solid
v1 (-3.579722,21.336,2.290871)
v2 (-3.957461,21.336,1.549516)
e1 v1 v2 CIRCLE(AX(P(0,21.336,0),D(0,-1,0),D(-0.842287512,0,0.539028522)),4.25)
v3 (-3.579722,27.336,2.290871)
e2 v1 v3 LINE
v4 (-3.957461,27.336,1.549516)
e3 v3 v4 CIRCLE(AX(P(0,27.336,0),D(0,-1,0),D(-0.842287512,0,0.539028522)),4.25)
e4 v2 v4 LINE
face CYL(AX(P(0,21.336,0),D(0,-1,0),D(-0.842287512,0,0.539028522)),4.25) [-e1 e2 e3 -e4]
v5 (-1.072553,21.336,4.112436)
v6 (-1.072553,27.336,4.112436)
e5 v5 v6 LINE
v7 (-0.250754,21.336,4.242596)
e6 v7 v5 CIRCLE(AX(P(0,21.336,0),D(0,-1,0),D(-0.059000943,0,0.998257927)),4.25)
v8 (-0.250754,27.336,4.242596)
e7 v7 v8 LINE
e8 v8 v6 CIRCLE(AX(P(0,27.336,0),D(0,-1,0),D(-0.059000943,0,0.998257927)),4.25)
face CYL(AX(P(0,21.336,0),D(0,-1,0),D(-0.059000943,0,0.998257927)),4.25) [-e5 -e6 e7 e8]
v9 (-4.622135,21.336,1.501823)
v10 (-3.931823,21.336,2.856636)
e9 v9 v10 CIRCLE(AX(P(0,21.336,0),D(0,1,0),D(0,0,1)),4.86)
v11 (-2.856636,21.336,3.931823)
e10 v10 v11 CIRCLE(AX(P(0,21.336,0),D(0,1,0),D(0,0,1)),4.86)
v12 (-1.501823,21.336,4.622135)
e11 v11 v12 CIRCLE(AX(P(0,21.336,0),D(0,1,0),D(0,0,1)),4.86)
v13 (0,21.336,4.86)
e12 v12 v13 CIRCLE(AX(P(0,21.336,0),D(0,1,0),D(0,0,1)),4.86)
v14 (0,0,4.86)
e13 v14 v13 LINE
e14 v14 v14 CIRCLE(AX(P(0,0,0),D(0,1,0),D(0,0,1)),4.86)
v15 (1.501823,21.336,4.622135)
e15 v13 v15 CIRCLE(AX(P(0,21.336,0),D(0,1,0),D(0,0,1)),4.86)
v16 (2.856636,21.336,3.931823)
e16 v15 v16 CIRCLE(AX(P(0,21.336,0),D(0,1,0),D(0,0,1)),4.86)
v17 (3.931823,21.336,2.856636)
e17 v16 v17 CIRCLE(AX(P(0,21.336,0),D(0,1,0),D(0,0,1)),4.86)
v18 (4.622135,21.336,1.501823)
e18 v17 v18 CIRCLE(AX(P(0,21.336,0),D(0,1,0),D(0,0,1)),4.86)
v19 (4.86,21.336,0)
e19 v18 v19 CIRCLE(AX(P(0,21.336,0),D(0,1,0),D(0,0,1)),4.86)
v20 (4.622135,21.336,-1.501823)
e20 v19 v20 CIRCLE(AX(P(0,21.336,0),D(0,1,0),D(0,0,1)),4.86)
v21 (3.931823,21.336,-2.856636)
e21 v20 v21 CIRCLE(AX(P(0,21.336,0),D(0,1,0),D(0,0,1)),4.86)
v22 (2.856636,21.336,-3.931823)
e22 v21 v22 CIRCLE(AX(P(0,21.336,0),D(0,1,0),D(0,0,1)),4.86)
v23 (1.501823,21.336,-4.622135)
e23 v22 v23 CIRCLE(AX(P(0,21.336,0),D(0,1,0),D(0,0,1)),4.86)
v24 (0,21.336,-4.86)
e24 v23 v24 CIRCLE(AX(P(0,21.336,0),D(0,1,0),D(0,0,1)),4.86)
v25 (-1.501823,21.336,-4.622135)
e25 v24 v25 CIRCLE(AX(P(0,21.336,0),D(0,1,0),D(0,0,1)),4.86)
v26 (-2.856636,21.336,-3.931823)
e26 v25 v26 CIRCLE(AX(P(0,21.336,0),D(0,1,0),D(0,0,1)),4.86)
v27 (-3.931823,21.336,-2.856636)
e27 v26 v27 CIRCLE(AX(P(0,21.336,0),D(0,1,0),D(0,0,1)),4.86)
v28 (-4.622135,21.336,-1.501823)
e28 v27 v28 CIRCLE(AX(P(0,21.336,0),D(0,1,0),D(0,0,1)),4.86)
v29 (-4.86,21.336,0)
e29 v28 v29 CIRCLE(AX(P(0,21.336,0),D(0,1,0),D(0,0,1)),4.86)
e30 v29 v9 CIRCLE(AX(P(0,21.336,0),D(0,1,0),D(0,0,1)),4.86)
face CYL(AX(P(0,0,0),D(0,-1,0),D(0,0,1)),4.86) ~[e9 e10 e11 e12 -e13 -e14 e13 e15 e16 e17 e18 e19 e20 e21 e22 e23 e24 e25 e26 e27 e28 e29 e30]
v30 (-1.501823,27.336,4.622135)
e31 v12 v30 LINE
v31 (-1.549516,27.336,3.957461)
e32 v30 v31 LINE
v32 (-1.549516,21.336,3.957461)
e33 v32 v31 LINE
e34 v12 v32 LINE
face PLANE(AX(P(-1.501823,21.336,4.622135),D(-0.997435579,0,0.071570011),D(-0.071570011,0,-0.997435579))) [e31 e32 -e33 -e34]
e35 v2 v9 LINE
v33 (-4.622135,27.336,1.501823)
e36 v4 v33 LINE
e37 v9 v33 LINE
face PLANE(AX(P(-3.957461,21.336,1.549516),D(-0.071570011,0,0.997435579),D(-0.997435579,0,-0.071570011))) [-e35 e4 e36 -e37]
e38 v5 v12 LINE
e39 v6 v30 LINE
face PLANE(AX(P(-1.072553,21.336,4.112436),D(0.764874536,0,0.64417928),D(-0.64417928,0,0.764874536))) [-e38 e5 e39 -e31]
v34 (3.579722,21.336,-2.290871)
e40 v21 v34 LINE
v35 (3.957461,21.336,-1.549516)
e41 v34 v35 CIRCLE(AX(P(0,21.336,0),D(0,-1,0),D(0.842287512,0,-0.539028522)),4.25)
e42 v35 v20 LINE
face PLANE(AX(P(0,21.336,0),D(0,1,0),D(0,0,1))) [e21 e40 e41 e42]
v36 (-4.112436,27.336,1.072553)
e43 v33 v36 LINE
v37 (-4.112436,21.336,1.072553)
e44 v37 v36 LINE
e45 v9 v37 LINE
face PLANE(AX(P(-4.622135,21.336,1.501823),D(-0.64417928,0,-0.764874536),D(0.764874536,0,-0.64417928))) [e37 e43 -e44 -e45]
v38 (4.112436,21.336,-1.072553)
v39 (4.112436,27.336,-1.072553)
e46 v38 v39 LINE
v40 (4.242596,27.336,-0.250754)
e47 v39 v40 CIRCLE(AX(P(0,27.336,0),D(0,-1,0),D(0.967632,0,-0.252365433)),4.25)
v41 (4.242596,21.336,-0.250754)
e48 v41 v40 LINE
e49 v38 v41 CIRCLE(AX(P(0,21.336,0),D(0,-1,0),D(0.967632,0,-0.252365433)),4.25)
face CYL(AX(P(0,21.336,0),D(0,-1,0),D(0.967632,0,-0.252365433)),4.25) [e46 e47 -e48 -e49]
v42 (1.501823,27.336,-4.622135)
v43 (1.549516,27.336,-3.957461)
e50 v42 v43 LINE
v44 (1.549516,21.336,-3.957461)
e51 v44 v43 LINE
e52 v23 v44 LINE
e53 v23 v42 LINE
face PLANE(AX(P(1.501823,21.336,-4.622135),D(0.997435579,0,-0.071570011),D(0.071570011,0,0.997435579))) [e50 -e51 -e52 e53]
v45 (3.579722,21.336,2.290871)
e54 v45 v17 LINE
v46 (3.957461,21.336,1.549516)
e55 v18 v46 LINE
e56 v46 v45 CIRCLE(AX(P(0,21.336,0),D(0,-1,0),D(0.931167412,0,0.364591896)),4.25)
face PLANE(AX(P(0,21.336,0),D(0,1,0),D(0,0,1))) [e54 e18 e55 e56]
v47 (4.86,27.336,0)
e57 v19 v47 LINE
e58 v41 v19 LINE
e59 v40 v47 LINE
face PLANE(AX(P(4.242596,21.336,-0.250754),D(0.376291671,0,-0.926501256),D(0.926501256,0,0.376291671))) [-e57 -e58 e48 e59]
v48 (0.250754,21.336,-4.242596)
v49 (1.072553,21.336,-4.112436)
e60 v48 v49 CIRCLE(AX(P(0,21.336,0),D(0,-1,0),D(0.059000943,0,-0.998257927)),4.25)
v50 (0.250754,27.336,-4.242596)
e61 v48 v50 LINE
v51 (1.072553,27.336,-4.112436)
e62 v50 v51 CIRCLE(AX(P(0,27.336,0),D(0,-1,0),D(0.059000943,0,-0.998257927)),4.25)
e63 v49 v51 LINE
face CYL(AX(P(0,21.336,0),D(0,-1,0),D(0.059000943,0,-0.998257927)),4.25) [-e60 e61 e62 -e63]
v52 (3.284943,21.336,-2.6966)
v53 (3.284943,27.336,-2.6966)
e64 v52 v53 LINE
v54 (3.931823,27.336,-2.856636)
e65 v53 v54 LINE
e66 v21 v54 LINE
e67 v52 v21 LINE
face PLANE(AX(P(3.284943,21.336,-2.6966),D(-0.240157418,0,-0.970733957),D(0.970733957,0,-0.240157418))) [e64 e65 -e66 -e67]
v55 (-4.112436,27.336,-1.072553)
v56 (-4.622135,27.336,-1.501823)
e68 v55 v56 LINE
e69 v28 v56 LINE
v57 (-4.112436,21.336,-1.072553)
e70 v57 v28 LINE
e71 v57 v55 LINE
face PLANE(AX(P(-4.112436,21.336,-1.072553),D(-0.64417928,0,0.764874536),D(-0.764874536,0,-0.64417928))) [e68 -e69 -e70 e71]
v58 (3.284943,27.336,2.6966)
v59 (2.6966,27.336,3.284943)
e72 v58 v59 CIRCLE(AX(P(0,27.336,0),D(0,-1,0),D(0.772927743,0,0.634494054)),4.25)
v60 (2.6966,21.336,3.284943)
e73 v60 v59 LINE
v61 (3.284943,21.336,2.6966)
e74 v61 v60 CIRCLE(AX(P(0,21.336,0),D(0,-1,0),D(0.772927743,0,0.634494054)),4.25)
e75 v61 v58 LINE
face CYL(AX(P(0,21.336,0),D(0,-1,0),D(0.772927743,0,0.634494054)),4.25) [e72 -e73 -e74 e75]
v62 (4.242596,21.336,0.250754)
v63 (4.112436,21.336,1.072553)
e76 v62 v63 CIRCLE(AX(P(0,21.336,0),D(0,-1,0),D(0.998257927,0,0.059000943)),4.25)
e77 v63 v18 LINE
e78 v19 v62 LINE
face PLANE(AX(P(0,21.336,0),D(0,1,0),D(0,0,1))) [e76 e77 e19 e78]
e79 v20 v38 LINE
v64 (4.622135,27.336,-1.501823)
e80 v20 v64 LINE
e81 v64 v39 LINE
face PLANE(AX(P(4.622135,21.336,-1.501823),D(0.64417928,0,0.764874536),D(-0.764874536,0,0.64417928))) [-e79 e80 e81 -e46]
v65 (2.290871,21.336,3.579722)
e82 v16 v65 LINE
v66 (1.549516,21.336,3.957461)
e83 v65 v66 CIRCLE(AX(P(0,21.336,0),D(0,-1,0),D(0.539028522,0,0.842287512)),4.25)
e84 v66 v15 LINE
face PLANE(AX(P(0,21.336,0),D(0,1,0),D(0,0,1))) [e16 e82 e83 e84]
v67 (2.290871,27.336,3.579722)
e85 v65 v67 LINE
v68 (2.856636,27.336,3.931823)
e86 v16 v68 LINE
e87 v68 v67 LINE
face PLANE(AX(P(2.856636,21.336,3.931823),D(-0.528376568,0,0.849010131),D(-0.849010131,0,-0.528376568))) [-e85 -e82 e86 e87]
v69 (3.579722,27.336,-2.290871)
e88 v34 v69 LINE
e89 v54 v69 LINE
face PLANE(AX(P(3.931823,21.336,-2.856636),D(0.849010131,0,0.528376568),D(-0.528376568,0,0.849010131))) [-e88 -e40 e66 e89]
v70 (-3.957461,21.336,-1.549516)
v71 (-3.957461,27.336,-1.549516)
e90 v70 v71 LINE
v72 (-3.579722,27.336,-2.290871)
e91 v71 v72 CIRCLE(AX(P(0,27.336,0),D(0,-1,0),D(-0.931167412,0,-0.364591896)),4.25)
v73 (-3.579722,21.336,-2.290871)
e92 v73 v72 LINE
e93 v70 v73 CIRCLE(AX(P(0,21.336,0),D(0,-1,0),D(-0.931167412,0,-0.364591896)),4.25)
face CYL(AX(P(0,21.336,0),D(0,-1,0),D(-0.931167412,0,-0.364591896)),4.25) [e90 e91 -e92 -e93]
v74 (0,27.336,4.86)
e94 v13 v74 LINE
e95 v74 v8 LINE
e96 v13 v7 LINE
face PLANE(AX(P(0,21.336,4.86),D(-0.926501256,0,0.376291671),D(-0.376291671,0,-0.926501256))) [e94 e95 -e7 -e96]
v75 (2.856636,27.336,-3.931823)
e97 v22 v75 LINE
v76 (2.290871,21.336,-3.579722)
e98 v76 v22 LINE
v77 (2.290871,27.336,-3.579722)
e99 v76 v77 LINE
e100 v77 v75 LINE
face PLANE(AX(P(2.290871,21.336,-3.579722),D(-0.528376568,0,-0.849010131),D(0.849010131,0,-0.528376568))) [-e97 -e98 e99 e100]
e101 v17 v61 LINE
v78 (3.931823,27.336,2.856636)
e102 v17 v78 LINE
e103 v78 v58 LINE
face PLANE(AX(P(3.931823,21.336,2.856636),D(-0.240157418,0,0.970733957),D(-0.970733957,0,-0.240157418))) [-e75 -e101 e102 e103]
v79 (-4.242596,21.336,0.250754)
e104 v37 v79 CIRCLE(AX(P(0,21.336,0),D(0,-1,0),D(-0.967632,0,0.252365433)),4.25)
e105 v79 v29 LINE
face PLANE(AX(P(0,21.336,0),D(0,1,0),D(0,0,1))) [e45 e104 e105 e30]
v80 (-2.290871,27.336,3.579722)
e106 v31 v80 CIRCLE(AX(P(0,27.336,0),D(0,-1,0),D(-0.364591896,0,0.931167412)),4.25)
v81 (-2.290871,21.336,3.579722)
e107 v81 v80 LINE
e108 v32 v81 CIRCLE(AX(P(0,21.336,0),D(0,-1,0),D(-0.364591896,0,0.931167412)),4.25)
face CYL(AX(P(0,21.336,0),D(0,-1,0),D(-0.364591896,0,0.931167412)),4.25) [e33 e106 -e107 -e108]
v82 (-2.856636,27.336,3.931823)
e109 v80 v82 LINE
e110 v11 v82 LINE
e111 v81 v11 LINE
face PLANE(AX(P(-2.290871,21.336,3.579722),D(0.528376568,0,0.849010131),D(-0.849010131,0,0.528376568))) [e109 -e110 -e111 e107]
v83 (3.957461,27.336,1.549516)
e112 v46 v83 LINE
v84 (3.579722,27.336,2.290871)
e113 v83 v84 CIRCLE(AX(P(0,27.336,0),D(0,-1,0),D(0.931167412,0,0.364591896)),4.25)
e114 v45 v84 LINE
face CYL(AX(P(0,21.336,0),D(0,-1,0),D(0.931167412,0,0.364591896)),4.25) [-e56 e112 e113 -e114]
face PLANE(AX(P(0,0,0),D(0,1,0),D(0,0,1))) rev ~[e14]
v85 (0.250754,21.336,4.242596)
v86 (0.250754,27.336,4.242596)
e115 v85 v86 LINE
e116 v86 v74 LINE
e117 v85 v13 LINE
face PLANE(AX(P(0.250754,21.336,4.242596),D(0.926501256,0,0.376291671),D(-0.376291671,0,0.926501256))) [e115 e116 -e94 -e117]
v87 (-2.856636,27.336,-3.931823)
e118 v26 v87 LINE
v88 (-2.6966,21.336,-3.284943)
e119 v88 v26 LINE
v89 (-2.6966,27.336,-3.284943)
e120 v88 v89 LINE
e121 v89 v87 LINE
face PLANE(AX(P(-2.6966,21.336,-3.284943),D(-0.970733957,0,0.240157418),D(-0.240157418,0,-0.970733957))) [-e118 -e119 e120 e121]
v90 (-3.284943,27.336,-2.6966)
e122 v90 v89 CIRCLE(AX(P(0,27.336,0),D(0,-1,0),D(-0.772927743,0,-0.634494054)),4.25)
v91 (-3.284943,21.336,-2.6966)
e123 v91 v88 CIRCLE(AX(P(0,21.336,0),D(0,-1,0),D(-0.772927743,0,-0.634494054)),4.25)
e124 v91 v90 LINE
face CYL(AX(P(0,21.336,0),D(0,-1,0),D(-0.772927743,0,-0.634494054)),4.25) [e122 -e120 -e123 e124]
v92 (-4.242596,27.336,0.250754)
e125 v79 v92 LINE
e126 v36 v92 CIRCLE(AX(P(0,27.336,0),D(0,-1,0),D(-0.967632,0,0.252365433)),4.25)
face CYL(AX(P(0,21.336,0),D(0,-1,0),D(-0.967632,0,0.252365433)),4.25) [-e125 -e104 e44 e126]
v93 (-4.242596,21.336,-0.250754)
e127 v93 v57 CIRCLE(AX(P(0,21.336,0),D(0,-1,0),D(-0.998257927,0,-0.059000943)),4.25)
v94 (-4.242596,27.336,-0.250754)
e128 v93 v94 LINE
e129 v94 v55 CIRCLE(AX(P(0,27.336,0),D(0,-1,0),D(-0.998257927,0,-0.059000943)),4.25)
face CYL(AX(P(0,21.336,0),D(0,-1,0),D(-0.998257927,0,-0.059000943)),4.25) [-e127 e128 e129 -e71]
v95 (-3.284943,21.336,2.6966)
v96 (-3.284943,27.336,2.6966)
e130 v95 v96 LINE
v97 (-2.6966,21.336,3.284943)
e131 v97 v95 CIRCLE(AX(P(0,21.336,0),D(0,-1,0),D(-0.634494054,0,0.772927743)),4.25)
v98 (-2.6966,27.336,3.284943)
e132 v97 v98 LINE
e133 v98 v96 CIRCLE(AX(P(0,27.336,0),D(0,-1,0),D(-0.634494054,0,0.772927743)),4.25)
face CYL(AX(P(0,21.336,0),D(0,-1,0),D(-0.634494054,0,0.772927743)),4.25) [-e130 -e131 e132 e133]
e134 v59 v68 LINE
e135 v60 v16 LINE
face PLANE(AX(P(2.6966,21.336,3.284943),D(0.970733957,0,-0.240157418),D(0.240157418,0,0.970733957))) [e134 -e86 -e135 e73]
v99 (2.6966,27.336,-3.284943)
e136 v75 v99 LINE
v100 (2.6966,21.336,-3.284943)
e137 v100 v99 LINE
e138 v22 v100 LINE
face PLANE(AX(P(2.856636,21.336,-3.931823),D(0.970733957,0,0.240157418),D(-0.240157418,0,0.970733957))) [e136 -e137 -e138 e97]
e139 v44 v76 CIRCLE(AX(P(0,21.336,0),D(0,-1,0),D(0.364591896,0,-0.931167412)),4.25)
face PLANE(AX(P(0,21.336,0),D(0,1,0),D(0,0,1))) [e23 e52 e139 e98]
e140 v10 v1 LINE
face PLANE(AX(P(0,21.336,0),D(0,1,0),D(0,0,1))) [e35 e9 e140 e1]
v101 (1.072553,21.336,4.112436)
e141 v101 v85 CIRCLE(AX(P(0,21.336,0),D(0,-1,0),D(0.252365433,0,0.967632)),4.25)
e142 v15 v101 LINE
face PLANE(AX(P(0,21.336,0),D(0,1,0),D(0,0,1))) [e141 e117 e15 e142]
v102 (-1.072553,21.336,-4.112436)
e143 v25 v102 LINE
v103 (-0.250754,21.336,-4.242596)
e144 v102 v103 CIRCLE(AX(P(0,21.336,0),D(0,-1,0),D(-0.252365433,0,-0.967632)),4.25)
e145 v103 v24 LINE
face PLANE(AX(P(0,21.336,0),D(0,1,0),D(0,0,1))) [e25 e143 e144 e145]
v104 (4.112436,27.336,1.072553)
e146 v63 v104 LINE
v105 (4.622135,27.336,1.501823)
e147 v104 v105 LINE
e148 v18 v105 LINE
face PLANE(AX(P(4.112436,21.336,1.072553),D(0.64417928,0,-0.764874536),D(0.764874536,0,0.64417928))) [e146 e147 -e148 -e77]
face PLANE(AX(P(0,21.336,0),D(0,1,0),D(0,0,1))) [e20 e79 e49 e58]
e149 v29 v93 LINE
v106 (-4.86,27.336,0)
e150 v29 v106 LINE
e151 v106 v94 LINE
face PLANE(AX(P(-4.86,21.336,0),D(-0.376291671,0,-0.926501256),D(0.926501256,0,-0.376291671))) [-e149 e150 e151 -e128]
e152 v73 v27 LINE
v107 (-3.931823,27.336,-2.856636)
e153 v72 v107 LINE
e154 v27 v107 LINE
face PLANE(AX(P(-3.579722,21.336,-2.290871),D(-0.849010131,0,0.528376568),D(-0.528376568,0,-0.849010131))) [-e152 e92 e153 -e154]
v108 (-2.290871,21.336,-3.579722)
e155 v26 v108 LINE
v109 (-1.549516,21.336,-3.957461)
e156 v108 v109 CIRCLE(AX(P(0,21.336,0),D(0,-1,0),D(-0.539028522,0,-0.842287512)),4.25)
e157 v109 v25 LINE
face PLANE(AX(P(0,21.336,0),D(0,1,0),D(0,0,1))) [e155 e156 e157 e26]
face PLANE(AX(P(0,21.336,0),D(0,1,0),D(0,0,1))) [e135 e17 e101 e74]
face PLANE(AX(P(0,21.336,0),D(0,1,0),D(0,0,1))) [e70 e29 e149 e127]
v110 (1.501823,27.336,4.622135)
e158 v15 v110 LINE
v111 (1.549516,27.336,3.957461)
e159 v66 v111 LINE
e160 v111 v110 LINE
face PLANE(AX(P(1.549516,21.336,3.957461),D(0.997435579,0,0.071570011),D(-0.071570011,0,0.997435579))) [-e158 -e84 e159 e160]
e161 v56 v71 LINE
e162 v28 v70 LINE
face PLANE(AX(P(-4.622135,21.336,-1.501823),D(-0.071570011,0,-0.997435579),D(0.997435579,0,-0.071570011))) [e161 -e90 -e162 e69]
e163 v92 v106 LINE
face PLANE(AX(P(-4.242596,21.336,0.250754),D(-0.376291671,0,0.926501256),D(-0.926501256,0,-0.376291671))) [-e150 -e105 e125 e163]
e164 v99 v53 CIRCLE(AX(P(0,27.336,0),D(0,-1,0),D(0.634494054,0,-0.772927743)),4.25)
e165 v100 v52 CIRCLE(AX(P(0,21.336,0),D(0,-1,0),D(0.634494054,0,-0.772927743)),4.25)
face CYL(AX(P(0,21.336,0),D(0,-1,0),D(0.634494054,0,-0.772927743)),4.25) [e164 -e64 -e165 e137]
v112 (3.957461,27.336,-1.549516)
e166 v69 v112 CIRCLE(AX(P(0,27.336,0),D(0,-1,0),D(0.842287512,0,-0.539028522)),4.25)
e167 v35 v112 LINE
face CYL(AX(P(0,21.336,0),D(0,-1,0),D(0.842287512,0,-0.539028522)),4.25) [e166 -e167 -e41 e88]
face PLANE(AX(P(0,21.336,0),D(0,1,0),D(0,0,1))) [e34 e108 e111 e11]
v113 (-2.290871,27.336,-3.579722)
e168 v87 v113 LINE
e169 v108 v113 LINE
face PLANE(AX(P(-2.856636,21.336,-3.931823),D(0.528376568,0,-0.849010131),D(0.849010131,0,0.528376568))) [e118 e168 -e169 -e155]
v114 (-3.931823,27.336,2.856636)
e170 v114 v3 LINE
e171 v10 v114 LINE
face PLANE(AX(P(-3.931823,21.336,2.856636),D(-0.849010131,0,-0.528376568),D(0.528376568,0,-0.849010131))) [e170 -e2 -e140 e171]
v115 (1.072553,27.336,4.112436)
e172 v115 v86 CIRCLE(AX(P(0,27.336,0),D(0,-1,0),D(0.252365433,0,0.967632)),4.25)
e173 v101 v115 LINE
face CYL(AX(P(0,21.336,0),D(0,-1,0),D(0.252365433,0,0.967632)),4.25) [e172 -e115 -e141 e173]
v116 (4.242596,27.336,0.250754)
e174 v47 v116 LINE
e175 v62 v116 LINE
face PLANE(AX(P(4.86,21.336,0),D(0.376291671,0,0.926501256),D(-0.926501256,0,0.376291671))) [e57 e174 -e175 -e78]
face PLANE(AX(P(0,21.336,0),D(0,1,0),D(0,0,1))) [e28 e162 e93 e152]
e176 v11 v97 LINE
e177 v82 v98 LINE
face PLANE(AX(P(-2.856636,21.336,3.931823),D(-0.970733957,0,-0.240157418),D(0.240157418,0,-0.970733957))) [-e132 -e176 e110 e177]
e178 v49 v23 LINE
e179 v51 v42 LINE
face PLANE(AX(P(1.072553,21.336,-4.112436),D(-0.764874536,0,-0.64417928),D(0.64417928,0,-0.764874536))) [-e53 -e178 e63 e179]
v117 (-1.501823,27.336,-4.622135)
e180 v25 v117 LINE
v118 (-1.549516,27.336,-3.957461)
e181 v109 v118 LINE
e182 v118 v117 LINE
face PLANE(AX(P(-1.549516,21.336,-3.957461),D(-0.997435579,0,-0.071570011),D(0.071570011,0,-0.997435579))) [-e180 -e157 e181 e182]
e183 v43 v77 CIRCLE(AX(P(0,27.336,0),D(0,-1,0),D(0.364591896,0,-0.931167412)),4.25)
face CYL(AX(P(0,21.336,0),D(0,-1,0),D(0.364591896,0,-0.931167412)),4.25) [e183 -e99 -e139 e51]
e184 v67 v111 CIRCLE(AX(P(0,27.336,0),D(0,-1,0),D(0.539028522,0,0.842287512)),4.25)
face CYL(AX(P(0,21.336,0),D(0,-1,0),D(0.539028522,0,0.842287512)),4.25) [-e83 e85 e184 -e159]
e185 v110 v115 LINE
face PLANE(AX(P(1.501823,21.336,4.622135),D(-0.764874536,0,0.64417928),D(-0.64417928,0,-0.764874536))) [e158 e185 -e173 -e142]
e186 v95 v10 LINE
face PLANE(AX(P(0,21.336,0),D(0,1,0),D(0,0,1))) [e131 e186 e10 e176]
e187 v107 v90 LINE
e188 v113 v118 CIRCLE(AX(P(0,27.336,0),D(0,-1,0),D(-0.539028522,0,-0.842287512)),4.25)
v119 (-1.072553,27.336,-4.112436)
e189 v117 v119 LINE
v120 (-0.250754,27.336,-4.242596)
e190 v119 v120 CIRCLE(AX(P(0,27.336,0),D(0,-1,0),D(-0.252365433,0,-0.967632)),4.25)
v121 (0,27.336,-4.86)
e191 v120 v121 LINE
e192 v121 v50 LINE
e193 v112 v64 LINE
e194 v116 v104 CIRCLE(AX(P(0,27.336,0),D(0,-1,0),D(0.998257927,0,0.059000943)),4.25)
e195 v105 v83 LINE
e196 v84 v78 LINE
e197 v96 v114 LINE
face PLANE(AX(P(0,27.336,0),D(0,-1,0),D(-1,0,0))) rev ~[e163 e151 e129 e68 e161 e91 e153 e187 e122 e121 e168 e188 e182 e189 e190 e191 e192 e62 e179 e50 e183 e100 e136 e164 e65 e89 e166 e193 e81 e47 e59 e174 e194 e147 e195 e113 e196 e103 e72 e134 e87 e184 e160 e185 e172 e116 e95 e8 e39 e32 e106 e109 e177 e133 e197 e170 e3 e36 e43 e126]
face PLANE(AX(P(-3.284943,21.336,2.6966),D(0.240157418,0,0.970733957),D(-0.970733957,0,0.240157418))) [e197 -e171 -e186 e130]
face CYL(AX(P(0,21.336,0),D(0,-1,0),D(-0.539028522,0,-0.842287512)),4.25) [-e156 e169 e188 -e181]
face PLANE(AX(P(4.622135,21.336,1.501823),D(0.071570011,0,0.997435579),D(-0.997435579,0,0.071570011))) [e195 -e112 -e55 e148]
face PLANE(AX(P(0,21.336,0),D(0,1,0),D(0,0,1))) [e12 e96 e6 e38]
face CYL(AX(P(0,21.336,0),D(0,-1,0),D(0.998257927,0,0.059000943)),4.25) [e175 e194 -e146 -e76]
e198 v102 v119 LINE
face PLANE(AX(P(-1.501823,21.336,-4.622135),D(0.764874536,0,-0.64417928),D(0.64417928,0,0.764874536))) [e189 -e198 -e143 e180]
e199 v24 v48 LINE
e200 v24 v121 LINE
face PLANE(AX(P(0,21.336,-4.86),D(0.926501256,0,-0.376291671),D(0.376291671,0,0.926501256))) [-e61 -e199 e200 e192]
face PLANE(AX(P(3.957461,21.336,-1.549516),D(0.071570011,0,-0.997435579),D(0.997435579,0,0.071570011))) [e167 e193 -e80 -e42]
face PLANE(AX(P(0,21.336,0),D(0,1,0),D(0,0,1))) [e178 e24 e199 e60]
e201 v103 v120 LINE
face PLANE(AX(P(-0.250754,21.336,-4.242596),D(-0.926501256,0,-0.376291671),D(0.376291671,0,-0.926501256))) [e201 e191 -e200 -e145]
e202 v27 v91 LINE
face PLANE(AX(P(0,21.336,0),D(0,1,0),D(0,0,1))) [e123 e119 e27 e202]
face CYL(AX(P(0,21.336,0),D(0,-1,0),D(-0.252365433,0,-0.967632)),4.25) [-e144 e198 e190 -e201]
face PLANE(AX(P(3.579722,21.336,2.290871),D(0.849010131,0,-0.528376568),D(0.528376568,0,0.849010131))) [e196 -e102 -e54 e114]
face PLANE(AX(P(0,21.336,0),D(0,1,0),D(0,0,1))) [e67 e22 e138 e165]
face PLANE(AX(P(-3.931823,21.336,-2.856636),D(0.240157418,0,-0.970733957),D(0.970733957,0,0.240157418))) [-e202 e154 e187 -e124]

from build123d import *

# Parameters (mm, degrees)
SKETCH1_R           = 4.86
BOSS_EXTRUDE1_DEPTH = 21.336
BOSS_EXTRUDE2_DEPTH = 6


with BuildPart() as part:
    # Sketch1 → Boss-Extrude1 (new body)
    with BuildSketch(Plane(origin=(0, 0, 0), x_dir=(1, 0, 0), z_dir=(0, 1, 0))):
        with Locations(Location((0, 0, 0), (0, 0, 270))):
            Circle(SKETCH1_R)
    extrude(amount=BOSS_EXTRUDE1_DEPTH)

    # Sketch2 → Boss-Extrude2 (add)
    with BuildSketch(Plane(origin=(0, 21.336, 0), x_dir=(1, 0, 0), z_dir=(0, 1, 0))):
        with BuildLine():
            Line((0, 4.86), (0.250754017, 4.242596189))
            ThreePointArc((0.250754017, 4.242596189), (0.664846476, 4.197675448), (1.072553081, 4.112436004))
            Line((1.072553081, 4.112436004), (1.501822593, 4.622134669))
            Line((1.501822593, 4.622134669), (1.549515564, 3.957461499))
            ThreePointArc((1.549515564, 3.957461499), (1.929459624, 3.786777728), (2.29087121, 3.57972193))
            Line((2.29087121, 3.57972193), (2.856636326, 3.931822593))
            Line((2.856636326, 3.931822593), (2.696599732, 3.284942904))
            ThreePointArc((2.696599732, 3.284942904), (3.00520382, 3.00520382), (3.284942904, 2.696599732))
            Line((3.284942904, 2.696599732), (3.931822593, 2.856636326))
            Line((3.931822593, 2.856636326), (3.57972193, 2.29087121))
            ThreePointArc((3.57972193, 2.29087121), (3.786777728, 1.929459624), (3.957461499, 1.549515564))
            Line((3.957461499, 1.549515564), (4.622134669, 1.501822593))
            Line((4.622134669, 1.501822593), (4.112436004, 1.072553081))
            ThreePointArc((4.112436004, 1.072553081), (4.197675448, 0.664846476), (4.242596189, 0.250754017))
            Line((4.242596189, 0.250754017), (4.86, 0))
            Line((4.86, 0), (4.242596189, -0.250754017))
            ThreePointArc((4.242596189, -0.250754017), (4.197675448, -0.664846476), (4.112436004, -1.072553081))
            Line((4.112436004, -1.072553081), (4.622134669, -1.501822593))
            Line((4.622134669, -1.501822593), (3.957461499, -1.549515564))
            ThreePointArc((3.957461499, -1.549515564), (3.786777728, -1.929459624), (3.57972193, -2.29087121))
            Line((3.57972193, -2.29087121), (3.931822593, -2.856636326))
            Line((3.931822593, -2.856636326), (3.284942904, -2.696599732))
            ThreePointArc((3.284942904, -2.696599732), (3.00520382, -3.00520382), (2.696599732, -3.284942904))
            Line((2.696599732, -3.284942904), (2.856636326, -3.931822593))
            Line((2.856636326, -3.931822593), (2.29087121, -3.57972193))
            ThreePointArc((2.29087121, -3.57972193), (1.929459624, -3.786777728), (1.549515564, -3.957461499))
            Line((1.549515564, -3.957461499), (1.501822593, -4.622134669))
            Line((1.501822593, -4.622134669), (1.072553081, -4.112436004))
            ThreePointArc((1.072553081, -4.112436004), (0.664846476, -4.197675448), (0.250754017, -4.242596189))
            Line((0.250754017, -4.242596189), (0, -4.86))
            Line((0, -4.86), (-0.250754017, -4.242596189))
            ThreePointArc((-0.250754017, -4.242596189), (-0.664846476, -4.197675448), (-1.072553081, -4.112436004))
            Line((-1.072553081, -4.112436004), (-1.501822593, -4.622134669))
            Line((-1.501822593, -4.622134669), (-1.549515564, -3.957461499))
            ThreePointArc((-1.549515564, -3.957461499), (-1.929459624, -3.786777728), (-2.29087121, -3.57972193))
            Line((-2.29087121, -3.57972193), (-2.856636326, -3.931822593))
            Line((-2.856636326, -3.931822593), (-2.696599732, -3.284942904))
            ThreePointArc((-2.696599732, -3.284942904), (-3.00520382, -3.00520382), (-3.284942904, -2.696599732))
            Line((-3.284942904, -2.696599732), (-3.931822593, -2.856636326))
            Line((-3.931822593, -2.856636326), (-3.57972193, -2.29087121))
            ThreePointArc((-3.57972193, -2.29087121), (-3.786777728, -1.929459624), (-3.957461499, -1.549515564))
            Line((-3.957461499, -1.549515564), (-4.622134669, -1.501822593))
            Line((-4.622134669, -1.501822593), (-4.112436004, -1.072553081))
            ThreePointArc((-4.112436004, -1.072553081), (-4.197675448, -0.664846476), (-4.242596189, -0.250754017))
            Line((-4.242596189, -0.250754017), (-4.86, 0))
            Line((-4.86, 0), (-4.242596189, 0.250754017))
            ThreePointArc((-4.242596189, 0.250754017), (-4.197675448, 0.664846476), (-4.112436004, 1.072553081))
            Line((-4.112436004, 1.072553081), (-4.622134669, 1.501822593))
            Line((-4.622134669, 1.501822593), (-3.957461499, 1.549515564))
            ThreePointArc((-3.957461499, 1.549515564), (-3.786777728, 1.929459624), (-3.57972193, 2.29087121))
            Line((-3.57972193, 2.29087121), (-3.931822593, 2.856636326))
            Line((-3.931822593, 2.856636326), (-3.284942904, 2.696599732))
            ThreePointArc((-3.284942904, 2.696599732), (-3.00520382, 3.00520382), (-2.696599732, 3.284942904))
            Line((-2.696599732, 3.284942904), (-2.856636326, 3.931822593))
            Line((-2.856636326, 3.931822593), (-2.29087121, 3.57972193))
            ThreePointArc((-2.29087121, 3.57972193), (-1.929459624, 3.786777728), (-1.549515564, 3.957461499))
            Line((-1.549515564, 3.957461499), (-1.501822593, 4.622134669))
            Line((-1.501822593, 4.622134669), (-1.072553081, 4.112436004))
            ThreePointArc((-1.072553081, 4.112436004), (-0.664846476, 4.197675448), (-0.250754017, 4.242596189))
            Line((-0.250754017, 4.242596189), (0, 4.86))
        make_face()
    extrude(amount=BOSS_EXTRUDE2_DEPTH)


solid = part.part
